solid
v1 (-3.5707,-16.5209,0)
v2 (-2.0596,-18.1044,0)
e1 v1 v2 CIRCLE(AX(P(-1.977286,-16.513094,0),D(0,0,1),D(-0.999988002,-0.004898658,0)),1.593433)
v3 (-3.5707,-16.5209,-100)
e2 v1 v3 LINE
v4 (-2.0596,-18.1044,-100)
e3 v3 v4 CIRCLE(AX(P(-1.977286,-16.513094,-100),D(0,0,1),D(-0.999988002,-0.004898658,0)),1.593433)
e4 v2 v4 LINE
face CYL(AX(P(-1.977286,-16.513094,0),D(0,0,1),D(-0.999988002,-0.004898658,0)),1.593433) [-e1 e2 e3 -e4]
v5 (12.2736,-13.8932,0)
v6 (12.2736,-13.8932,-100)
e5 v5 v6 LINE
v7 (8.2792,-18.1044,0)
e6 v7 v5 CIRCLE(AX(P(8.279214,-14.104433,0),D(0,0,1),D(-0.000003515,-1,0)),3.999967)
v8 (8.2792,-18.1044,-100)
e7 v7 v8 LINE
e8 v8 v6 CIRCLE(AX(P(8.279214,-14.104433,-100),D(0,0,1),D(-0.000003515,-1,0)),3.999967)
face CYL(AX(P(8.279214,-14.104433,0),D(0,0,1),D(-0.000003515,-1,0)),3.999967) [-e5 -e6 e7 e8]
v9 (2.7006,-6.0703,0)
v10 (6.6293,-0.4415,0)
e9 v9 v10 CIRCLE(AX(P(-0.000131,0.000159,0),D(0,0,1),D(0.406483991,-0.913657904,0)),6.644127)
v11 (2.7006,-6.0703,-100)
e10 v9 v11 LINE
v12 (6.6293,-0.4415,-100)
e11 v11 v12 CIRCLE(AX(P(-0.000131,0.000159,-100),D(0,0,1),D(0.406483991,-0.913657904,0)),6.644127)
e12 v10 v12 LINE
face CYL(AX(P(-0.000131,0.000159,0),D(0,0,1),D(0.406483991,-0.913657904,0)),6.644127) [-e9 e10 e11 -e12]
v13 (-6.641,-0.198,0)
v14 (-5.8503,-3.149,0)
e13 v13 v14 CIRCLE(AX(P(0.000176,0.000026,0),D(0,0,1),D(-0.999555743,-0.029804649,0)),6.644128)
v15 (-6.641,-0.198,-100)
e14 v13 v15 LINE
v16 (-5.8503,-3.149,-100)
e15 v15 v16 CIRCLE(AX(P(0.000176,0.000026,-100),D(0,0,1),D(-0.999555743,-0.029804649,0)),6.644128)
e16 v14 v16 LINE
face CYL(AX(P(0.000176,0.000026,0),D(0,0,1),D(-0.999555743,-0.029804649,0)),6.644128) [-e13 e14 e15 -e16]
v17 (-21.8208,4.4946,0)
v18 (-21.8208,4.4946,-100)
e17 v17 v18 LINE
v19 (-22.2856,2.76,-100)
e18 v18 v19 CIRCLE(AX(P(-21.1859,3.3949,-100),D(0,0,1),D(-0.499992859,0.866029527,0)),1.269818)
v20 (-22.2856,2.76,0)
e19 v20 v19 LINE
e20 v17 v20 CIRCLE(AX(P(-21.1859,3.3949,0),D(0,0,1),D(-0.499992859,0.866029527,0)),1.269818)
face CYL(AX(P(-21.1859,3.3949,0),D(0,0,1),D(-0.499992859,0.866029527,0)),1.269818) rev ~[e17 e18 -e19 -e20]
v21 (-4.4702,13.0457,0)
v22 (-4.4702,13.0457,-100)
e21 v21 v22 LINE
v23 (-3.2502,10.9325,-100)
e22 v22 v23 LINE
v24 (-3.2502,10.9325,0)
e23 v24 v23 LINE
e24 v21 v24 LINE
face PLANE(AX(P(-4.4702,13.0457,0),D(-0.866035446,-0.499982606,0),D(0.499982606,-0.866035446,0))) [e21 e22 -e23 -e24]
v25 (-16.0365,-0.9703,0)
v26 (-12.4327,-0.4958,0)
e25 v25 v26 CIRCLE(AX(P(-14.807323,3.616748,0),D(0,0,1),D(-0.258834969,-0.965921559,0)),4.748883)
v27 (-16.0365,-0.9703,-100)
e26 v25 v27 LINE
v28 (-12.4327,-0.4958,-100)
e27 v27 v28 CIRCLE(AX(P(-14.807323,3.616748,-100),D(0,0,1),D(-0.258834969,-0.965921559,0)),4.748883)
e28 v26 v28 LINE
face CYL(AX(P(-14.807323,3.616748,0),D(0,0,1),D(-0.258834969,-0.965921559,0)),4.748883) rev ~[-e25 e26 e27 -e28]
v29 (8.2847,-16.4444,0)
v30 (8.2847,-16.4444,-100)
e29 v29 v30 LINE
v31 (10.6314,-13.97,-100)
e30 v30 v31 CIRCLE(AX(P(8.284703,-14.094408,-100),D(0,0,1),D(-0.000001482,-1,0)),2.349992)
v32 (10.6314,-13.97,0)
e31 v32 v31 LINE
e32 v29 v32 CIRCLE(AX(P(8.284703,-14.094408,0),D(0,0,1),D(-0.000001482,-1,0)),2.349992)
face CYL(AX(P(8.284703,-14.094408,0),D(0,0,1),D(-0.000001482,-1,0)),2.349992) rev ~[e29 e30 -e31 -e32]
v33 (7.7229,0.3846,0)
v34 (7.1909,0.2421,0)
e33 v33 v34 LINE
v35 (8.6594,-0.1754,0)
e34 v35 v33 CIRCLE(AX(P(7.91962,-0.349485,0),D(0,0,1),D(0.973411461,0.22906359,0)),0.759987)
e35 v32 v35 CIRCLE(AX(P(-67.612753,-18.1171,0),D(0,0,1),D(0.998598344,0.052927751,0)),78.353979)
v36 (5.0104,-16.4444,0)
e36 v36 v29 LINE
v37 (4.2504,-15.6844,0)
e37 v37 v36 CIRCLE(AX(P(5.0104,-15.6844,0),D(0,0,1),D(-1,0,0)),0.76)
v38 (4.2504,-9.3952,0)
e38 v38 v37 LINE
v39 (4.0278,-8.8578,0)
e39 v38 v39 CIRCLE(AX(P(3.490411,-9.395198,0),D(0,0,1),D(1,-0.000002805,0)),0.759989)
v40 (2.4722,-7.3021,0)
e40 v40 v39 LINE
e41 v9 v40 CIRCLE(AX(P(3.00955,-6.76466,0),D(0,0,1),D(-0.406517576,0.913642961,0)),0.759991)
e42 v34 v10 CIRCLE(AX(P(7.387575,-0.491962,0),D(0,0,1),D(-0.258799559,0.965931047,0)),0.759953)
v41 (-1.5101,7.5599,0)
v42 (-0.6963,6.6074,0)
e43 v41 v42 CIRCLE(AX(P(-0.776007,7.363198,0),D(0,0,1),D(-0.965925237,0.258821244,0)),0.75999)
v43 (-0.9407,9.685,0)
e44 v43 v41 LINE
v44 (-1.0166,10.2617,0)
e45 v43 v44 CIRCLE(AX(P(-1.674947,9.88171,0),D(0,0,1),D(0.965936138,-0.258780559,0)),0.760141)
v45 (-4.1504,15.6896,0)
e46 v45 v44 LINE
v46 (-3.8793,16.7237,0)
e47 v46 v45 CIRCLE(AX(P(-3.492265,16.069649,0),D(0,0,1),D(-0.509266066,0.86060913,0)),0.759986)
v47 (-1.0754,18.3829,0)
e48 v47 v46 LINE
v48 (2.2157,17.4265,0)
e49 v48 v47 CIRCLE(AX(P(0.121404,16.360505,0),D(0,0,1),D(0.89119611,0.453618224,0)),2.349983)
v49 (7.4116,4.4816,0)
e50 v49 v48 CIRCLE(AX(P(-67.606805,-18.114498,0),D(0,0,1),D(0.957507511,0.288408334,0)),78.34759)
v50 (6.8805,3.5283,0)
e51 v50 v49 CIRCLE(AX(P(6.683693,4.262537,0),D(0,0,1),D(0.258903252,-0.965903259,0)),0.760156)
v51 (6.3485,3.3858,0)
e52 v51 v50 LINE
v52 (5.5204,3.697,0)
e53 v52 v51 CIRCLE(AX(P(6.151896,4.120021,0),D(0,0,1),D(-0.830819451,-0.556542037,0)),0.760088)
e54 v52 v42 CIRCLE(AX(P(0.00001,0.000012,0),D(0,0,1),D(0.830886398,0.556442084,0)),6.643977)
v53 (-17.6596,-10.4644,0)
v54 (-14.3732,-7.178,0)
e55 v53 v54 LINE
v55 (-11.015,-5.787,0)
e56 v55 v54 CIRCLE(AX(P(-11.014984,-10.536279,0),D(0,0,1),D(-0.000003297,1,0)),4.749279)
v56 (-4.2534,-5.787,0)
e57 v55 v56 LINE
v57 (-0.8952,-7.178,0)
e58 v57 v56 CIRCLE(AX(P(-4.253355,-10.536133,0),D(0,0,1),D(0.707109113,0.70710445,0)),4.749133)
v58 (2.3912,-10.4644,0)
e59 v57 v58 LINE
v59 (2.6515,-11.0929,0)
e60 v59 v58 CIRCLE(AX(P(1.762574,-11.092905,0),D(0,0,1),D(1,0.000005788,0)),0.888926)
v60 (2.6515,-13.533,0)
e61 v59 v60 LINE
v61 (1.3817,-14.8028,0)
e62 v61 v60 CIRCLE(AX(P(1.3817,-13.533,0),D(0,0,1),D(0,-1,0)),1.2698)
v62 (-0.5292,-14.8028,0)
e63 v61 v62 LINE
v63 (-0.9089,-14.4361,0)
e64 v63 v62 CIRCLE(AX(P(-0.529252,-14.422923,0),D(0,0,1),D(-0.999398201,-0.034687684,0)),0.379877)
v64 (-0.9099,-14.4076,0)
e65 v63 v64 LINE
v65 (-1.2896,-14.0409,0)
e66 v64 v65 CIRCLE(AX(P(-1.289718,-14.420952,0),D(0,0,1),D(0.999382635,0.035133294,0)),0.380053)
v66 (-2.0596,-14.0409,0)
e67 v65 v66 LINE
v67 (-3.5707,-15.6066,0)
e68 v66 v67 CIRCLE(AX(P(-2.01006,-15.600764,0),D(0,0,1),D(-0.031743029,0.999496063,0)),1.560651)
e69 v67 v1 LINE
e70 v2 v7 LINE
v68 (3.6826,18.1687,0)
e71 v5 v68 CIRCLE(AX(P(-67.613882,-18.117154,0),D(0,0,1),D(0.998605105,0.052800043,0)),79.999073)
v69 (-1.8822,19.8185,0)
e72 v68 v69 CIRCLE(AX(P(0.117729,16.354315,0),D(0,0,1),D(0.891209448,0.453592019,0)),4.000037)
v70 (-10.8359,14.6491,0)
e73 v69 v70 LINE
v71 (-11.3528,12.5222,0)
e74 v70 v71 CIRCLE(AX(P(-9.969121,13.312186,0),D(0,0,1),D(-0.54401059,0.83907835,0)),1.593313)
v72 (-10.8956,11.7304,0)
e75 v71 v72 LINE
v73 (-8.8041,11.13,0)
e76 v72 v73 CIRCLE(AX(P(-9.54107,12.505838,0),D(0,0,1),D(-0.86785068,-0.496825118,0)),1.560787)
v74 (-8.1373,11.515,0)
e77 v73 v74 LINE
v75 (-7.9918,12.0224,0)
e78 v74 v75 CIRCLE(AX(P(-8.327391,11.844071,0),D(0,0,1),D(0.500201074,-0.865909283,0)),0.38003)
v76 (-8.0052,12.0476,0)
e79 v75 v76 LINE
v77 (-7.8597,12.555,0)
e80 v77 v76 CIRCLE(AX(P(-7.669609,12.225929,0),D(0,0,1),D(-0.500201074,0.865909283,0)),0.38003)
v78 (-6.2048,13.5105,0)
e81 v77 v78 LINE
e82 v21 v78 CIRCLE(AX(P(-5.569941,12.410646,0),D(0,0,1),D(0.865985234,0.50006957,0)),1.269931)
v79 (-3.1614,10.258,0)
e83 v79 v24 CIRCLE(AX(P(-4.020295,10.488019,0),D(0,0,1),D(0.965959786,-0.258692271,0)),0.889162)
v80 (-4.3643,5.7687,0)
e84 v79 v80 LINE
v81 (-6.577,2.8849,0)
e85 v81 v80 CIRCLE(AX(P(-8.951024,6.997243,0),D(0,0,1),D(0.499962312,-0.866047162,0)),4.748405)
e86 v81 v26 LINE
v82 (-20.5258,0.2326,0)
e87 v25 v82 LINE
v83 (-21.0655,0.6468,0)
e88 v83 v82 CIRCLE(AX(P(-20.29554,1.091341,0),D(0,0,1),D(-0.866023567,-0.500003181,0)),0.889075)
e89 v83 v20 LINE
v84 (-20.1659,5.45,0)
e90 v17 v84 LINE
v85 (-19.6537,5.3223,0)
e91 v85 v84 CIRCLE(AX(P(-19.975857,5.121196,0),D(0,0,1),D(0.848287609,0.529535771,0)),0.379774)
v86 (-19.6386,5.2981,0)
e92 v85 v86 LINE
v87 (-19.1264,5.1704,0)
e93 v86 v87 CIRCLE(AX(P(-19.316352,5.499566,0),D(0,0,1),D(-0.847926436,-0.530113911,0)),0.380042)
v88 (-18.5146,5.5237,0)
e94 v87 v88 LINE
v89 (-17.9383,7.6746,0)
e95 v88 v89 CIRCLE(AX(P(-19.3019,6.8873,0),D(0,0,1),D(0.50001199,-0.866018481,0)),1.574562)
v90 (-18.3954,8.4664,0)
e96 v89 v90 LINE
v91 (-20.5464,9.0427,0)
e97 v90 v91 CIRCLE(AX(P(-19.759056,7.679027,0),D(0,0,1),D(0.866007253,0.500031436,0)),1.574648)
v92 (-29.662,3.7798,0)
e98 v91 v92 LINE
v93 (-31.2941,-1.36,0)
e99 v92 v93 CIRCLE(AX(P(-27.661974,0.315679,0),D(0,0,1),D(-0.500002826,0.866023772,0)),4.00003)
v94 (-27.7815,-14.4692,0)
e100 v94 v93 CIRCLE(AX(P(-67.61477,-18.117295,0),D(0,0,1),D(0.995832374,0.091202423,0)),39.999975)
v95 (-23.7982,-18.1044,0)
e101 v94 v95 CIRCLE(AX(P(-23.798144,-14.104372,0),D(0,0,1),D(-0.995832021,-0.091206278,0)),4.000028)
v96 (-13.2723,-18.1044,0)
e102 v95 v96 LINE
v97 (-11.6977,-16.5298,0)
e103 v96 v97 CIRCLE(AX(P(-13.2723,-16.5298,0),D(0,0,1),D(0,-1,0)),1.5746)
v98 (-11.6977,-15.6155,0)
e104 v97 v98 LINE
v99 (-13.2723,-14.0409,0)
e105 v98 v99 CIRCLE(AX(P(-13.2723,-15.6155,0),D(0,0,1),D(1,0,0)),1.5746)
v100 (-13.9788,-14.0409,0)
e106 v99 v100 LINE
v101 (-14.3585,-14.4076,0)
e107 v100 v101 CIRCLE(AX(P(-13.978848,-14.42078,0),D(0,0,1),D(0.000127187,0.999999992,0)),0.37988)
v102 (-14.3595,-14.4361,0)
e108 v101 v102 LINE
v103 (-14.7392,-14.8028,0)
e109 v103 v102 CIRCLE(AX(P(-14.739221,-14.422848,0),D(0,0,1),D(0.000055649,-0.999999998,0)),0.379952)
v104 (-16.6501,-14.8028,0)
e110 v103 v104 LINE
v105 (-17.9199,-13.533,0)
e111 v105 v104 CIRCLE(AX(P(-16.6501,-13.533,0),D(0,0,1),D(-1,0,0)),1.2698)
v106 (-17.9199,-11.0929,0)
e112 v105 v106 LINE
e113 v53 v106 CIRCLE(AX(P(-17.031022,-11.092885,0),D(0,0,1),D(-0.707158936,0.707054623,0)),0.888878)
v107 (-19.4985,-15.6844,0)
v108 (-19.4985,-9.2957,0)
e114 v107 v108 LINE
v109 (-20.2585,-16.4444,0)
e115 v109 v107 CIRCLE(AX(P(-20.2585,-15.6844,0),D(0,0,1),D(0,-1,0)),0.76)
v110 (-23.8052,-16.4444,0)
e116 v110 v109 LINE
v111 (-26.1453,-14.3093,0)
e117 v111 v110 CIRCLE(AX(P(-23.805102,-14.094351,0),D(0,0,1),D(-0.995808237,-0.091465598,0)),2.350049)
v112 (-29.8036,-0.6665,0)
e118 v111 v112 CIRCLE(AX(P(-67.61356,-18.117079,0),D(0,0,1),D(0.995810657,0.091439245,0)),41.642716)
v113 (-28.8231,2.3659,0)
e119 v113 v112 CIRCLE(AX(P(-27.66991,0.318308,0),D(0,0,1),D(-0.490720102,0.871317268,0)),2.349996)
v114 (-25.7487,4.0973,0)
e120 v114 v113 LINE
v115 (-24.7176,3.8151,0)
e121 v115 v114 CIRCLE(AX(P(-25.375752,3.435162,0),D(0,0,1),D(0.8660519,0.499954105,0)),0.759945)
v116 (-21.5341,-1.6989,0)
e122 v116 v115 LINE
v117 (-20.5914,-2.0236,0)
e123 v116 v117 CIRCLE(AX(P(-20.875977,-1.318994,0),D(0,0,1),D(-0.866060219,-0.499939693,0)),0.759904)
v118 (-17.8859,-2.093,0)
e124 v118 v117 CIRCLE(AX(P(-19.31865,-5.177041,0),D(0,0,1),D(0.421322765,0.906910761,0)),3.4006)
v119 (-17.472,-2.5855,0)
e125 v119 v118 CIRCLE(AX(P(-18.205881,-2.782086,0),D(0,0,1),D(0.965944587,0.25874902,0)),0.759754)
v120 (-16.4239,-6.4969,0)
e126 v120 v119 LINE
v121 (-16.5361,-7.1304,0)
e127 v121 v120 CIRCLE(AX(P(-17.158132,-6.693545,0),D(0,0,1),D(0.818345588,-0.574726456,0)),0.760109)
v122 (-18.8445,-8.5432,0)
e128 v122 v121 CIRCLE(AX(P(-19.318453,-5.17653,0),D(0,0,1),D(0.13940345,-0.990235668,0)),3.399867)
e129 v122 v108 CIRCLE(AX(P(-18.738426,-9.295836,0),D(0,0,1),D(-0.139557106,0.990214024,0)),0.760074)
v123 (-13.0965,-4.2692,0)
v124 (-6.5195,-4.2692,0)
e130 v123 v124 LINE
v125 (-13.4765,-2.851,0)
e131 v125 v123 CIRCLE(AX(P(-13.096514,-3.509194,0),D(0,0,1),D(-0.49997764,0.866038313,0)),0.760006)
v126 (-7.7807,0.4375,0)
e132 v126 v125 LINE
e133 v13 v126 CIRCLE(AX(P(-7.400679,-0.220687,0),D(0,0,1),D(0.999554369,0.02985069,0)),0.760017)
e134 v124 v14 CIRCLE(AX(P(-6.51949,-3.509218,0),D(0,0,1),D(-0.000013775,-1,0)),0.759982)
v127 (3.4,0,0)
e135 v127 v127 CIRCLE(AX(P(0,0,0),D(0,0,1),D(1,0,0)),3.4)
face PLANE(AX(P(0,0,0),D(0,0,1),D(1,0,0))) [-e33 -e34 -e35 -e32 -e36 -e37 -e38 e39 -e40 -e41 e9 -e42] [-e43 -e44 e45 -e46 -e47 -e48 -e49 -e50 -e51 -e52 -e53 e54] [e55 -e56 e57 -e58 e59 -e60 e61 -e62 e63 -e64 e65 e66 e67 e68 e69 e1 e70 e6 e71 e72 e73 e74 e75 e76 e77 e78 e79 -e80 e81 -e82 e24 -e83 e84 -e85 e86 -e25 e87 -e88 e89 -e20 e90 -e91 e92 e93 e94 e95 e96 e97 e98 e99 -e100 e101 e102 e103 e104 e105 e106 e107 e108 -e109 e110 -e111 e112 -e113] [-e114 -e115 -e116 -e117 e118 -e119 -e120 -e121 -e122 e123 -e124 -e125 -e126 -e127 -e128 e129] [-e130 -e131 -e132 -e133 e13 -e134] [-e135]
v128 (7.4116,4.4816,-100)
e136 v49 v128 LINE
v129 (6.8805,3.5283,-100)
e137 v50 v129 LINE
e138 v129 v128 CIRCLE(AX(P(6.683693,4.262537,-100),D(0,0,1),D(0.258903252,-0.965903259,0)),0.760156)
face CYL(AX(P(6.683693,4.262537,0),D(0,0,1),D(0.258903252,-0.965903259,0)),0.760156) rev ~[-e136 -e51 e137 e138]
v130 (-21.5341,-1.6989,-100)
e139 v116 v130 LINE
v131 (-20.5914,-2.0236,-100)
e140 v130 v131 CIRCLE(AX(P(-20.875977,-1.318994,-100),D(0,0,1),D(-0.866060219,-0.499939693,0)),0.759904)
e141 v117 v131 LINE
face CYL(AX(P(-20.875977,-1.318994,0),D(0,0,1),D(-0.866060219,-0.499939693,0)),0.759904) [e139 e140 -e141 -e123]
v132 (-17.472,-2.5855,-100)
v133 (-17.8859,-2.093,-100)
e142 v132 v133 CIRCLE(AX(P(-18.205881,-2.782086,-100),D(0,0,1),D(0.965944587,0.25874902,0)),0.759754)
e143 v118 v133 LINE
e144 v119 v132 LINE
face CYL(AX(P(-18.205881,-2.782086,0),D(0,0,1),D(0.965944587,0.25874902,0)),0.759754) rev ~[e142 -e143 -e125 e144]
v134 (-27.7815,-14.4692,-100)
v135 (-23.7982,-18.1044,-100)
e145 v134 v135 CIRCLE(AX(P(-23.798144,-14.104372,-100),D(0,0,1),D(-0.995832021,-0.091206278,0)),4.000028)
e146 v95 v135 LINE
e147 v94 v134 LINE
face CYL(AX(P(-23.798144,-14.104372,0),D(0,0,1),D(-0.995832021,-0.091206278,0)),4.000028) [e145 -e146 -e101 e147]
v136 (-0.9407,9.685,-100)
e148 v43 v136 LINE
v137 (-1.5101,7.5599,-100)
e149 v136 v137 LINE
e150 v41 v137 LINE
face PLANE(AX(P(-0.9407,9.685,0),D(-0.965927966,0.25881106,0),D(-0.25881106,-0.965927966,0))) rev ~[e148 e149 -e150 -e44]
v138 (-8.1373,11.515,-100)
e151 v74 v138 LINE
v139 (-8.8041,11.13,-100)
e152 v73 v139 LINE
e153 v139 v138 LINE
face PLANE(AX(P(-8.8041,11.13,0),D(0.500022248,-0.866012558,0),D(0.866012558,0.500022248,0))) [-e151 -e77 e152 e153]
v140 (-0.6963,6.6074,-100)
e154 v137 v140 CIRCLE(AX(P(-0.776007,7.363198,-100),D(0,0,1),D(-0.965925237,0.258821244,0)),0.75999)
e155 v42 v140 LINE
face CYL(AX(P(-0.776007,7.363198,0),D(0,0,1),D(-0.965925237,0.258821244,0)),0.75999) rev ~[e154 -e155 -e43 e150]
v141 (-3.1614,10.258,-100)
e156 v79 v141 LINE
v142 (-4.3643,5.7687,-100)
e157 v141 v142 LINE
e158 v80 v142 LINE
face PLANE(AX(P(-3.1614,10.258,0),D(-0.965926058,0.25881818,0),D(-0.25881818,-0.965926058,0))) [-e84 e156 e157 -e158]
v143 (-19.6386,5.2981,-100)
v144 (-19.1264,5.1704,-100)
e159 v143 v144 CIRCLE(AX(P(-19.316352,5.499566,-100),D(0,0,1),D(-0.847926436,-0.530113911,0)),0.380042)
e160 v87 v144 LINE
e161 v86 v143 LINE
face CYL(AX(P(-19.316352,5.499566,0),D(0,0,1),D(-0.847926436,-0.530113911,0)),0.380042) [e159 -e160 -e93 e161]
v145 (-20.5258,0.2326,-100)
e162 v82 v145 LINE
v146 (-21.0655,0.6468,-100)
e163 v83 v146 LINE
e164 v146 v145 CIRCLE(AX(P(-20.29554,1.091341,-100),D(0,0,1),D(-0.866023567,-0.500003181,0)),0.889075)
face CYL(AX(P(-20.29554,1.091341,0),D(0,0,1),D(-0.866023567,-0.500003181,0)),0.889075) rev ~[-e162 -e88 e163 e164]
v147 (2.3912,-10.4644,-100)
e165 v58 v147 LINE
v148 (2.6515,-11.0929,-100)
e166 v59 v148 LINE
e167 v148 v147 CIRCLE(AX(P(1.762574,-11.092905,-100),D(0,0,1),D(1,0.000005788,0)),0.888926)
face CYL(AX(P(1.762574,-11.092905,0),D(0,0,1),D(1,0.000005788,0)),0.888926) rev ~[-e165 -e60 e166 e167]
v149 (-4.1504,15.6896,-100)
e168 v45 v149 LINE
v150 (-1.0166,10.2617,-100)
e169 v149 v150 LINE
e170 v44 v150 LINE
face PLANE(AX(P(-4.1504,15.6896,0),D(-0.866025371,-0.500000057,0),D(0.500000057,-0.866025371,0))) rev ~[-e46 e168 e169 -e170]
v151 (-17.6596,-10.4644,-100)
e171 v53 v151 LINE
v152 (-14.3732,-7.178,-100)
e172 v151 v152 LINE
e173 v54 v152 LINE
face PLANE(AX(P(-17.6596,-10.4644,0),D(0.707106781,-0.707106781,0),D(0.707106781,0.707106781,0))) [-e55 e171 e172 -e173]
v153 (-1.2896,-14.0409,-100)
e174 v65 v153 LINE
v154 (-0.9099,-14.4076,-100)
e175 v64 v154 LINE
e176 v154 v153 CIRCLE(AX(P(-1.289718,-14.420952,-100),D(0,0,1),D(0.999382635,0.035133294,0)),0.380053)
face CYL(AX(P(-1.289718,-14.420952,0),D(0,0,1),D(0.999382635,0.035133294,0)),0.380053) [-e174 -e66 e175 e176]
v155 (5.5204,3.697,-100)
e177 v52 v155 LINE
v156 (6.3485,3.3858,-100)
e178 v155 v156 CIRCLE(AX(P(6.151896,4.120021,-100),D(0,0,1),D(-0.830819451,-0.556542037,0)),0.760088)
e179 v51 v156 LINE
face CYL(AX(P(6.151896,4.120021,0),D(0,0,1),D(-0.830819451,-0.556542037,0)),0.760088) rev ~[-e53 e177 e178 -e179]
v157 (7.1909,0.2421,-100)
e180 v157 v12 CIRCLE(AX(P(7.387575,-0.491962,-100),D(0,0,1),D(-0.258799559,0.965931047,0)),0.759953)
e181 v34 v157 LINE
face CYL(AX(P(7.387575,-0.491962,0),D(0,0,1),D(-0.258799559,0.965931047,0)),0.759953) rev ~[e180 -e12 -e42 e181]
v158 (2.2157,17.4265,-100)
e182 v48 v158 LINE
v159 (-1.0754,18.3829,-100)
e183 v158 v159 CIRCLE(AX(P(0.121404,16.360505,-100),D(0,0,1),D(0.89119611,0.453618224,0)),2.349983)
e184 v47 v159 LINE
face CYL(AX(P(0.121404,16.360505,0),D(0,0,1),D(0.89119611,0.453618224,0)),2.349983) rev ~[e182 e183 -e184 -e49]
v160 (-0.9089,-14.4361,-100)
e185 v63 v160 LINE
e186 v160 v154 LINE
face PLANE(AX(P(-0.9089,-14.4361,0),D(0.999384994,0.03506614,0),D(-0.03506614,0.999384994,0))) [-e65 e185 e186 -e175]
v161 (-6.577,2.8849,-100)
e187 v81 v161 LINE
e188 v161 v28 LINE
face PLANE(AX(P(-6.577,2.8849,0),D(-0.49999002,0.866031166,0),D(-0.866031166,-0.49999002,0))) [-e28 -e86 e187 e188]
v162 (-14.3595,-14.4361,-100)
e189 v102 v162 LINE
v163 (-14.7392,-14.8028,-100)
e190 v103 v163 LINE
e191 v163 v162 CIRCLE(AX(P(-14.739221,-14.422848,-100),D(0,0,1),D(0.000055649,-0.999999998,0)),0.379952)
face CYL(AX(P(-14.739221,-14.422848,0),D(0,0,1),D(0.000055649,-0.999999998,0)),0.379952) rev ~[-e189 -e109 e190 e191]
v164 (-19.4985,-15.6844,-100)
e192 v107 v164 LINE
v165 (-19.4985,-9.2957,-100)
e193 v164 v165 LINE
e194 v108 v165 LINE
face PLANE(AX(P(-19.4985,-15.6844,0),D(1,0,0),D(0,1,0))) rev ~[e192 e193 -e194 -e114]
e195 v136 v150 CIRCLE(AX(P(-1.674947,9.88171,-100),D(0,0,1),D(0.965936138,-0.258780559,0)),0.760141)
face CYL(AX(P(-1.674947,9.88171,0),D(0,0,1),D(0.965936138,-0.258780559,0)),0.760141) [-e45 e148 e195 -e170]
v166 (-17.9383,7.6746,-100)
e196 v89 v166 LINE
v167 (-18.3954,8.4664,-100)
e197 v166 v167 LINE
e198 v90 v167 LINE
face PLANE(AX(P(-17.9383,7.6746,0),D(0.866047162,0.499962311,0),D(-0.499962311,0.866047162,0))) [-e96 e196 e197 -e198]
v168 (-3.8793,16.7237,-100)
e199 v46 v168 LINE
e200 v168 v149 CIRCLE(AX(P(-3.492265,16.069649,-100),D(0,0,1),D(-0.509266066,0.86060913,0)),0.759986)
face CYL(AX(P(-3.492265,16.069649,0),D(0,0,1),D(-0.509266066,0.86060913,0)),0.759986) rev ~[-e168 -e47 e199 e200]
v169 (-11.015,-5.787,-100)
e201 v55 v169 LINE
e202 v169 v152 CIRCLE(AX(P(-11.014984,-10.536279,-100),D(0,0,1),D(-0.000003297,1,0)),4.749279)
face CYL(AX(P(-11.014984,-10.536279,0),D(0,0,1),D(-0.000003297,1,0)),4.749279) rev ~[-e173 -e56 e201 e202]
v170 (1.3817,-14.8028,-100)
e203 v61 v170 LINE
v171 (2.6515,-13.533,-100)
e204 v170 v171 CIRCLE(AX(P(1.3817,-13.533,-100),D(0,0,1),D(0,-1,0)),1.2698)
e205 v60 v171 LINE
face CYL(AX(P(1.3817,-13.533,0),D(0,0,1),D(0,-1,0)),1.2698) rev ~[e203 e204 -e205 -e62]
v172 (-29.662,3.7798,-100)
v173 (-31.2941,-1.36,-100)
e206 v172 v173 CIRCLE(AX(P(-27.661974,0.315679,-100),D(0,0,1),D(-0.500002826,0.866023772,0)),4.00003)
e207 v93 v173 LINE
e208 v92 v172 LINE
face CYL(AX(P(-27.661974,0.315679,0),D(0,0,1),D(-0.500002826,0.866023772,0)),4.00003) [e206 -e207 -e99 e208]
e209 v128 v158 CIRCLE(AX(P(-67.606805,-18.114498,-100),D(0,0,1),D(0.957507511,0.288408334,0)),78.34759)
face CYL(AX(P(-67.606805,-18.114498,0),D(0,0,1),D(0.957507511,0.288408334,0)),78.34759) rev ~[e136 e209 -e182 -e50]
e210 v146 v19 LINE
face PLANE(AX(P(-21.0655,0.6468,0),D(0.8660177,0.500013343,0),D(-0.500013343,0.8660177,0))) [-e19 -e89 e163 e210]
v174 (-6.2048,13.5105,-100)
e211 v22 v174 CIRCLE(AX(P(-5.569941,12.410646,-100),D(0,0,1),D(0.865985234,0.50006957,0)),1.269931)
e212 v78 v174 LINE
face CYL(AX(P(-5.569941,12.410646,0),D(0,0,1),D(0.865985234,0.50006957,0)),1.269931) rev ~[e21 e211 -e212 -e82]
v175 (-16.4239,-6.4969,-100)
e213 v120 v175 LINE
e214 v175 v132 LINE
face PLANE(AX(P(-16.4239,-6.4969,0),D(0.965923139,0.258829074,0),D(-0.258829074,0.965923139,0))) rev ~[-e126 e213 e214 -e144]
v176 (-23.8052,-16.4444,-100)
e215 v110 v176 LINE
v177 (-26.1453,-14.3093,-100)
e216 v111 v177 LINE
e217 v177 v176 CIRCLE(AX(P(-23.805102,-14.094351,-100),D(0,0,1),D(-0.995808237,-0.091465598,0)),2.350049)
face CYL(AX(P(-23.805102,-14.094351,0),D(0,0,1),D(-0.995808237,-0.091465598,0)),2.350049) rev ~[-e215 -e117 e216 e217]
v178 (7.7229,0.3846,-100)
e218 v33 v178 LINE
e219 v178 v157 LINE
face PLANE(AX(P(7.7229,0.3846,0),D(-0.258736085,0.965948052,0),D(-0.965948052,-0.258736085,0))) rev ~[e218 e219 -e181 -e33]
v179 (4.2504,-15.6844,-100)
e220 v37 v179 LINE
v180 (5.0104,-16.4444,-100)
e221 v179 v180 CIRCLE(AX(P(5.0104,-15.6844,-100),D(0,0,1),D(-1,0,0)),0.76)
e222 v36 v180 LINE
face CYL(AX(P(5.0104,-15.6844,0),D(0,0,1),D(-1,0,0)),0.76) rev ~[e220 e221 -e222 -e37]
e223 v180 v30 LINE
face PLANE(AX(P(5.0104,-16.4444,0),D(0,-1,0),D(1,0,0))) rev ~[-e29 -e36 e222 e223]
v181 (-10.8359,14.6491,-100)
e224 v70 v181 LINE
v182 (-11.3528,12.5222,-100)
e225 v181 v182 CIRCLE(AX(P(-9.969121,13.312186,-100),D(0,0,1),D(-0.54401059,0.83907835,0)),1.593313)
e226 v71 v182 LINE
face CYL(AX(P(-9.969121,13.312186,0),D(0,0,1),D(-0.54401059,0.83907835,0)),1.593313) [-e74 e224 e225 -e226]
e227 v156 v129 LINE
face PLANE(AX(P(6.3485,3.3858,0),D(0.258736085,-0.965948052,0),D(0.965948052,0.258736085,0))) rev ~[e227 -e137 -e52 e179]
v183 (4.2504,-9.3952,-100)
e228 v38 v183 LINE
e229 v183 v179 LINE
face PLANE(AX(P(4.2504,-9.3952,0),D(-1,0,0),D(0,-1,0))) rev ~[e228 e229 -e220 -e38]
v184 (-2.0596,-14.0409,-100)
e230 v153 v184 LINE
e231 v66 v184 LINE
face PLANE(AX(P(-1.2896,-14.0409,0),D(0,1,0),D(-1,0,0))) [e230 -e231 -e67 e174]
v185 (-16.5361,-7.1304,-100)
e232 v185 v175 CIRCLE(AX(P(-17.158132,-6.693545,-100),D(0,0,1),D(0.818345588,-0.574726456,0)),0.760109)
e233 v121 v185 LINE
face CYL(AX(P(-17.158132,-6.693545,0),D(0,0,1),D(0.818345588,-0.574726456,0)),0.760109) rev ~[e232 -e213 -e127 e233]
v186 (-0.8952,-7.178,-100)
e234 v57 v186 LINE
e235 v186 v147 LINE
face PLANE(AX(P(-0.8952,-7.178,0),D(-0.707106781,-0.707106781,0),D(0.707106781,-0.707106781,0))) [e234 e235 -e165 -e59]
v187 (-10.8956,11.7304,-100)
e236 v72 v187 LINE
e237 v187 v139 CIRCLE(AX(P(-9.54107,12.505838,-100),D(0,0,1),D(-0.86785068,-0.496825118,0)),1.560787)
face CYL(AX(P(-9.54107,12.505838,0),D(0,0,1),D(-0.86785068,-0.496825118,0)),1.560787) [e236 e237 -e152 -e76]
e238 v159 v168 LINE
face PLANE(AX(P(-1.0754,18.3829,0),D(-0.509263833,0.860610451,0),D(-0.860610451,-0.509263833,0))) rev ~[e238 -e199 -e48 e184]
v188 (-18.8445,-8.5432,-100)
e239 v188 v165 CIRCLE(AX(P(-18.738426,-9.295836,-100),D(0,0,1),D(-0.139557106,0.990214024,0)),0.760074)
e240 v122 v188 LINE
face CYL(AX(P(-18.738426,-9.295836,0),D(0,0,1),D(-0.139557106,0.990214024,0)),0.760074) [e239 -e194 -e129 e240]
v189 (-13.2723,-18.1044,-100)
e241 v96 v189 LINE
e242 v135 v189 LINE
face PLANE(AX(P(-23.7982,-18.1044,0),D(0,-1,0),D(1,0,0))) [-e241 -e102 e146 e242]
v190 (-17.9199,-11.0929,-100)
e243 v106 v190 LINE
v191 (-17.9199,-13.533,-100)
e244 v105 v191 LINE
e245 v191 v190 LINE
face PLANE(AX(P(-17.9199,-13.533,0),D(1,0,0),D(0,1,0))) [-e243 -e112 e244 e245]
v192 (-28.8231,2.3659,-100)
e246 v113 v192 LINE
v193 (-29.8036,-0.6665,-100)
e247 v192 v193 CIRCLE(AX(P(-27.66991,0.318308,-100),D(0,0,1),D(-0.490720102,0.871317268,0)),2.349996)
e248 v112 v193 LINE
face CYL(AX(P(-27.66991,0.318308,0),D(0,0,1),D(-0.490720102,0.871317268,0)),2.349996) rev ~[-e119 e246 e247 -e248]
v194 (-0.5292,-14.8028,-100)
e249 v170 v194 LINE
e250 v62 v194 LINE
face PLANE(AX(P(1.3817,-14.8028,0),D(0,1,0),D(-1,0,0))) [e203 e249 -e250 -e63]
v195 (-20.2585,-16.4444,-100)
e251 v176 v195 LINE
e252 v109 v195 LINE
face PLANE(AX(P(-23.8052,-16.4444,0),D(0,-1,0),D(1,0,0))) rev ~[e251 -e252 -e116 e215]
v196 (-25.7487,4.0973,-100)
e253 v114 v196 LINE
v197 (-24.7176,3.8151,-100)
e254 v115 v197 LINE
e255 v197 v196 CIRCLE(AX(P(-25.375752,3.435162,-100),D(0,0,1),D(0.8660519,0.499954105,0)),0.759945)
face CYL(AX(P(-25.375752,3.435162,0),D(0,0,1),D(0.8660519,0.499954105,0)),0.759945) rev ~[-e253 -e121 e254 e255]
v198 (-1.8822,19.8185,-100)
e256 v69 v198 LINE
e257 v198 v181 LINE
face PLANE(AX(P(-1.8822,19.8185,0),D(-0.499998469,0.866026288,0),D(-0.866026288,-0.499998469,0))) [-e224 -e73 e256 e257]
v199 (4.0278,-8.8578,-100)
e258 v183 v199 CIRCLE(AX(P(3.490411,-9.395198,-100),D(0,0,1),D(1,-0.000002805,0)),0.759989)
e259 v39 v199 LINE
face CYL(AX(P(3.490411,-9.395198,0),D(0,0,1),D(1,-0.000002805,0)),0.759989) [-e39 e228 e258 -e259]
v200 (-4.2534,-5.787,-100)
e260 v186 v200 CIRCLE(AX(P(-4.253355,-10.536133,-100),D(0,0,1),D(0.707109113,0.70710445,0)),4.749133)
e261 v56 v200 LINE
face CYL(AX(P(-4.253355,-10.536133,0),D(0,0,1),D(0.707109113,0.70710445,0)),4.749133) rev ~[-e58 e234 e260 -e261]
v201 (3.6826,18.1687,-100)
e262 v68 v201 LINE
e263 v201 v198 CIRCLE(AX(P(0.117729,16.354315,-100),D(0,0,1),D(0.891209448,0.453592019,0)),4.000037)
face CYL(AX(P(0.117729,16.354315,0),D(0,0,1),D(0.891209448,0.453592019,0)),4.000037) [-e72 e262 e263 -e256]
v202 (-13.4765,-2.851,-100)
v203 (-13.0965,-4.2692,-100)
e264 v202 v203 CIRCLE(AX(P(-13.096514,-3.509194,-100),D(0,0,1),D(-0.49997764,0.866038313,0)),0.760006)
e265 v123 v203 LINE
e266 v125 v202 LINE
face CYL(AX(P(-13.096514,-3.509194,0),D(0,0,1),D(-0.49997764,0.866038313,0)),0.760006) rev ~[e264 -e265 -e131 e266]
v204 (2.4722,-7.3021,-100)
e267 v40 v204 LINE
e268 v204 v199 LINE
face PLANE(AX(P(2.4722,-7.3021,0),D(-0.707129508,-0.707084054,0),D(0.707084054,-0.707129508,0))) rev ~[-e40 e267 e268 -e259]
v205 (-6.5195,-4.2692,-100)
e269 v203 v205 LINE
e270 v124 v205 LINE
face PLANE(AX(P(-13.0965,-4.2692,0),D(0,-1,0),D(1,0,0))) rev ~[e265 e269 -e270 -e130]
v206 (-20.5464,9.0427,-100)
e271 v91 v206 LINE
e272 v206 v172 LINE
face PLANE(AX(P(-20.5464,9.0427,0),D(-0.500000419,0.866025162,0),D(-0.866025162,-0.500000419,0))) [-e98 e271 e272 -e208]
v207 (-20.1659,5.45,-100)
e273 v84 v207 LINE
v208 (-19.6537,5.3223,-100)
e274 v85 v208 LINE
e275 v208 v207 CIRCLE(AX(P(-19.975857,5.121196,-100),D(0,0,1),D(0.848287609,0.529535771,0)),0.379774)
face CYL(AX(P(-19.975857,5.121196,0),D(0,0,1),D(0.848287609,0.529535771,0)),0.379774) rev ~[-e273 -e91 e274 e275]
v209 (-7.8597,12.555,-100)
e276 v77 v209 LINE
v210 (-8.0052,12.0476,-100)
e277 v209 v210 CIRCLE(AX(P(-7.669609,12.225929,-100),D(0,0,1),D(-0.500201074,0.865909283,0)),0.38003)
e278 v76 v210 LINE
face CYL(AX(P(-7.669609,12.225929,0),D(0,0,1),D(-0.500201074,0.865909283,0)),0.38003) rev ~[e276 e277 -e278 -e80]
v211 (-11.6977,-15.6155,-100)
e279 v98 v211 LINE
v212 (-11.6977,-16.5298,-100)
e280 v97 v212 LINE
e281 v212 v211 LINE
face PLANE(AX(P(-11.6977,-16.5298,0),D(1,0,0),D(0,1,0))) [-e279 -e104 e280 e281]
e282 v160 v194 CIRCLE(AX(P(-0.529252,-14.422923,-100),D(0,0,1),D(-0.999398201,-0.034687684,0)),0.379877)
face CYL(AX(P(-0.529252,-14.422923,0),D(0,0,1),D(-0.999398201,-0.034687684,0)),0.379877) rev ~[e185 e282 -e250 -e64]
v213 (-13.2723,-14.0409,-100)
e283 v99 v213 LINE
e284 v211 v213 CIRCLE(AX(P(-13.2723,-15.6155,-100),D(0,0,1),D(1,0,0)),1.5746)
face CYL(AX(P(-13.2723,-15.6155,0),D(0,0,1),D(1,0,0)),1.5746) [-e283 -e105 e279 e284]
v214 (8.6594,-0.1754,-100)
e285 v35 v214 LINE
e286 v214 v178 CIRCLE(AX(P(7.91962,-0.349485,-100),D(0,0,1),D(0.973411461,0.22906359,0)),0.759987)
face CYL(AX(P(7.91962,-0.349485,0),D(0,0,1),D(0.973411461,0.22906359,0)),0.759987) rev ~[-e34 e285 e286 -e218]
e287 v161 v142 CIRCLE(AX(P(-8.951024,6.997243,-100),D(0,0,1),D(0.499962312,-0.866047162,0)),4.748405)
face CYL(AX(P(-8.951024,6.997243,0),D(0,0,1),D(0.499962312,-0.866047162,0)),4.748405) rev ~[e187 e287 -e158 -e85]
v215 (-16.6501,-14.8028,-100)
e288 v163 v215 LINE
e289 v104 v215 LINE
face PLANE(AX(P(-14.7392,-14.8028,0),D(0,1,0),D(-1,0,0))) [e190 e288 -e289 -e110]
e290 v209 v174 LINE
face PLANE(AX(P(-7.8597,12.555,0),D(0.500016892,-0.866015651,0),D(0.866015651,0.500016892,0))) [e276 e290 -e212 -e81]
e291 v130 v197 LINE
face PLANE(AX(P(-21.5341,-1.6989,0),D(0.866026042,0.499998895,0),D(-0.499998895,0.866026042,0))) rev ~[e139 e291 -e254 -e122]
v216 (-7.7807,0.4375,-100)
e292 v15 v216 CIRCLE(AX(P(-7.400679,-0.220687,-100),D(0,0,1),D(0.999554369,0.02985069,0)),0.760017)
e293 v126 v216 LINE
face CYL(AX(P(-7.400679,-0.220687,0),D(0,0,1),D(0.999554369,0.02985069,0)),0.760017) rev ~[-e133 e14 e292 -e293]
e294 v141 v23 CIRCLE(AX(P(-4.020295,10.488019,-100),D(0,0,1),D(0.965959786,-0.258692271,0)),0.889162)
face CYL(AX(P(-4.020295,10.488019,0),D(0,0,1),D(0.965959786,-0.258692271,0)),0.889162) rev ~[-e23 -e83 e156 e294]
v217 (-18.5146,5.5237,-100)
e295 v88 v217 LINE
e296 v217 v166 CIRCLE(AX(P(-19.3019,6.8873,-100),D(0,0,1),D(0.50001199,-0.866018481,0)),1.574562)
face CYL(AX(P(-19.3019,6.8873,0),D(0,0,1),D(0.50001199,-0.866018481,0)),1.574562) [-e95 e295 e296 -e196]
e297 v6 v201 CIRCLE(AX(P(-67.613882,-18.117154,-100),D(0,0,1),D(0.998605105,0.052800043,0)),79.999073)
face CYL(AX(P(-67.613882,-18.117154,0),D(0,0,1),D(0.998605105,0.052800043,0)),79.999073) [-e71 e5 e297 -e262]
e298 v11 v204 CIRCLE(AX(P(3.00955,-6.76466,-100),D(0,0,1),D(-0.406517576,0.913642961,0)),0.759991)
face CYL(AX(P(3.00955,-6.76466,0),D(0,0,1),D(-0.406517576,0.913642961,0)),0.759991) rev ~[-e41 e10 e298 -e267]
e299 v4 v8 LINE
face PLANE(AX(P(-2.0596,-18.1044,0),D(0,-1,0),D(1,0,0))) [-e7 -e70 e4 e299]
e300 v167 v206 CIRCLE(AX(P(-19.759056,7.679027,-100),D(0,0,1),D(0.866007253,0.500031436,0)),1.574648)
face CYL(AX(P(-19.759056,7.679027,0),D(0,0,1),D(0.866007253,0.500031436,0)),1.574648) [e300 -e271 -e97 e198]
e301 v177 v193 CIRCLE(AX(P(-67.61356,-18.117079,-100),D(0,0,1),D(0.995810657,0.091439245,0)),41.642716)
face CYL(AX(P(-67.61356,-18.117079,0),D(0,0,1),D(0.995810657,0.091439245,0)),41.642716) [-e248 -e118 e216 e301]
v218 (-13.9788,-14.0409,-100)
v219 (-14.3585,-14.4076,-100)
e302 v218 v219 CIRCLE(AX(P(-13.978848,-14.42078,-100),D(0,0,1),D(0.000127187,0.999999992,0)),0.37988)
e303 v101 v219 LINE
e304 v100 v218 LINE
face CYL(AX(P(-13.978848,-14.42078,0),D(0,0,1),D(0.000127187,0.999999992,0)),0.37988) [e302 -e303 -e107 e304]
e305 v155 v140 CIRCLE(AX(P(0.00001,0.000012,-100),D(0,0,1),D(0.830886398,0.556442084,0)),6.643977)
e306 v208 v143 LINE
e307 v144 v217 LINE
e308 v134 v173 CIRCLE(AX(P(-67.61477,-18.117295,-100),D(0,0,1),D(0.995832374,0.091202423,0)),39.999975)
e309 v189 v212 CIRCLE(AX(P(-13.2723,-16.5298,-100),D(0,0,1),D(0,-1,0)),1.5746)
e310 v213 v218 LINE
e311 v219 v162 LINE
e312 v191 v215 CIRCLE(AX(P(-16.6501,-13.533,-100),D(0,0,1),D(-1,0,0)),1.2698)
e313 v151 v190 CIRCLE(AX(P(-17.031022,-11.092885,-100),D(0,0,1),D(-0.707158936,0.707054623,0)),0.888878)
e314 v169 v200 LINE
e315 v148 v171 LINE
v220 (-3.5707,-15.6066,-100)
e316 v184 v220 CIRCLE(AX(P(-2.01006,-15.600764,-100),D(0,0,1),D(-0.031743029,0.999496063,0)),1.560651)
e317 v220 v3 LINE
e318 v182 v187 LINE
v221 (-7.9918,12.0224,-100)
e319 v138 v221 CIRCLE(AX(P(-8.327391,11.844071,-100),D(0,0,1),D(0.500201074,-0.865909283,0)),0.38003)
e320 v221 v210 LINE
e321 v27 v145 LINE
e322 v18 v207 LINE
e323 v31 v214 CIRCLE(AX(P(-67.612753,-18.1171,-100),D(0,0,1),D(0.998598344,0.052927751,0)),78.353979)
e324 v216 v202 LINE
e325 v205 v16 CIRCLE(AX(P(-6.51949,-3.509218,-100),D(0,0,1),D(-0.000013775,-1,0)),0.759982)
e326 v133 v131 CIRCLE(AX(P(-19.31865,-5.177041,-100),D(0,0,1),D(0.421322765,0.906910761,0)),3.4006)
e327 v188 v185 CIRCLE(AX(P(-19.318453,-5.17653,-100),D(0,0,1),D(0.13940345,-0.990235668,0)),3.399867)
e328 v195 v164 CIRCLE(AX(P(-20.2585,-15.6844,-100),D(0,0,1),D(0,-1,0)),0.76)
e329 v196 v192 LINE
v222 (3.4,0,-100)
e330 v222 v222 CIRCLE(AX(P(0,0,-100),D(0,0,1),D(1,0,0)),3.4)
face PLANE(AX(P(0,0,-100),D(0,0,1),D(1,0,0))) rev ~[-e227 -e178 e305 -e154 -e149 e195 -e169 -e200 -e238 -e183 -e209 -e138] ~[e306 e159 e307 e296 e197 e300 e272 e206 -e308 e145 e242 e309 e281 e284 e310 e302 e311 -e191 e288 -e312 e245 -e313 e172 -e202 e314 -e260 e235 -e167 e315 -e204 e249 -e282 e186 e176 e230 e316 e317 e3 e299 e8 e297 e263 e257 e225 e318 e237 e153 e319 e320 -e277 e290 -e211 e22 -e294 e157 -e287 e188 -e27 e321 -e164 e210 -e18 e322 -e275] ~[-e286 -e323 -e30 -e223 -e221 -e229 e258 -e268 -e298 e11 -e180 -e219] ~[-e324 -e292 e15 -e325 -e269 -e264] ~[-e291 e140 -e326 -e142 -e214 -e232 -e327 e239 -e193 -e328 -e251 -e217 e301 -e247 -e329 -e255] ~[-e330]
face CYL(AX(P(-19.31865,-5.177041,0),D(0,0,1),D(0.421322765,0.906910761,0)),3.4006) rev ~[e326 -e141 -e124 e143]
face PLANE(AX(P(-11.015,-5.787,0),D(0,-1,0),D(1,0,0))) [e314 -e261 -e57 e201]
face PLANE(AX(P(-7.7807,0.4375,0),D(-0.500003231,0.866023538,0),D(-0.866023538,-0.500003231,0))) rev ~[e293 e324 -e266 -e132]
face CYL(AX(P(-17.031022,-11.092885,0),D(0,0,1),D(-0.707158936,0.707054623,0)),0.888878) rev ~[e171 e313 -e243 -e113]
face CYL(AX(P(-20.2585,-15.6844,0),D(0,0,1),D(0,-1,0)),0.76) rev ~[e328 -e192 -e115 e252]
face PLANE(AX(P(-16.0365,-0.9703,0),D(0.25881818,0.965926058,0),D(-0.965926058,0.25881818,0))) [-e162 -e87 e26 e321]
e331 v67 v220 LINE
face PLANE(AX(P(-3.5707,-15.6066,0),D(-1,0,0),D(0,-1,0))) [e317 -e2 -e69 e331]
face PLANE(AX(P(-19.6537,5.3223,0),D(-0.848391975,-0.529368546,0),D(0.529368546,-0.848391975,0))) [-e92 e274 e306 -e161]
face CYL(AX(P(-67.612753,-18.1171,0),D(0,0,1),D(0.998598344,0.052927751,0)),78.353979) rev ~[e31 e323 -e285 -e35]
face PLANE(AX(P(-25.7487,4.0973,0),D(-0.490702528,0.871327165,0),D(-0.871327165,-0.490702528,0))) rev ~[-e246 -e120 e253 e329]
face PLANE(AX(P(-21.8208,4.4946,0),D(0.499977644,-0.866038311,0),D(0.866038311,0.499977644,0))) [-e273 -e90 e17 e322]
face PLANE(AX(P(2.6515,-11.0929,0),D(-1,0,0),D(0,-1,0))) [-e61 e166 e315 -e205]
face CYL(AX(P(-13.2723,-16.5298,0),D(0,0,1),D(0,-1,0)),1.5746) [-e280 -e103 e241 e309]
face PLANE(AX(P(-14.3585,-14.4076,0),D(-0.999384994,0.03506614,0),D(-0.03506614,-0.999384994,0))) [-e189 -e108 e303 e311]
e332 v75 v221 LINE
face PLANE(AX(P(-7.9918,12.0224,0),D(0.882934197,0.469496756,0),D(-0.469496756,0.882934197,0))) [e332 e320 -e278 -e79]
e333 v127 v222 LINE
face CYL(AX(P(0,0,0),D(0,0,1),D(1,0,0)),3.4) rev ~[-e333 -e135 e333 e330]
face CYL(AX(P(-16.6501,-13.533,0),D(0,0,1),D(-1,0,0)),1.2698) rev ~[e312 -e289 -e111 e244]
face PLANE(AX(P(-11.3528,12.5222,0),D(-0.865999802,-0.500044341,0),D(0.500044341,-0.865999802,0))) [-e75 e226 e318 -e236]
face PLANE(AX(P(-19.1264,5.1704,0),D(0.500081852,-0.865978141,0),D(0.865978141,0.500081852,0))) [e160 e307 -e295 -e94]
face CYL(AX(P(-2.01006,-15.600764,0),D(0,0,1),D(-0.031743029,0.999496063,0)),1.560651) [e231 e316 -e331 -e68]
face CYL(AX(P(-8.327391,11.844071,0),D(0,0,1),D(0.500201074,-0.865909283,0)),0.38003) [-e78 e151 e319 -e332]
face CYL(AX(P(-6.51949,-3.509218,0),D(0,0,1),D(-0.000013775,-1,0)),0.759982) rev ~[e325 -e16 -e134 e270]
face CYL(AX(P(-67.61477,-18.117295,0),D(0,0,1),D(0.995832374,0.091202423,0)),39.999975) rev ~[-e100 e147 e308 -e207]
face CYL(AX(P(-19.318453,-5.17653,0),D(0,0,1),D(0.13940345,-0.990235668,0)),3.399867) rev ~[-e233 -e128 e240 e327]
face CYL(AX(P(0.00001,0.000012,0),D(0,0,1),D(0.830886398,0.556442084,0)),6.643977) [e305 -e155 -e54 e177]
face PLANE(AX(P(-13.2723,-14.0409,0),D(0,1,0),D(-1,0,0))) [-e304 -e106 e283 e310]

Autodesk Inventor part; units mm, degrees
ref_plane "YZ Plane" through (0, 0, 0) normal (1, 0, 0) x (0, 1, 0)
ref_plane "XZ Plane" through (0, 0, 0) normal (0, 1, 0) x (-1, 0, 0)
ref_plane "XY Plane" through (0, 0, 0) normal (0, 0, 1) x (1, 0, 0)
sketch "Sketch1" plane through (0, 0, 0) normal (0, 0, 1) x (1, 0, 0)
  circle A0 centre (0, 0) radius 3.4
  arc A1 (-6.641, -0.198) -> (-5.8503, -3.149) centre (0, 0) ccw
  arc A2 (-6.5195, -4.2692) -> (-5.8503, -3.149) centre (-6.5195, -3.5092) ccw
  line L0 (-13.0965, -4.2692) -> (-6.5195, -4.2692)
  arc A3 (-13.4765, -2.851) -> (-13.0965, -4.2692) centre (-13.0965, -3.5092) ccw
  line L1 (-7.7807, 0.4375) -> (-13.4765, -2.851)
  arc A4 (-6.641, -0.198) -> (-7.7807, 0.4375) centre (-7.4007, -0.2207) ccw
  arc A5 (-1.5101, 7.5599) -> (-0.6963, 6.6074) centre (-0.776, 7.3632) ccw
  line L2 (-0.9407, 9.685) -> (-1.5101, 7.5599)
  arc A6 (-0.9407, 9.685) -> (-1.0166, 10.2617) centre (-1.6748, 9.8817) ccw
  line L3 (-4.1504, 15.6896) -> (-1.0166, 10.2617)
  arc A7 (-3.8793, 16.7237) -> (-4.1504, 15.6896) centre (-3.4922, 16.0696) ccw
  line L4 (-1.0754, 18.3829) -> (-3.8793, 16.7237)
  arc A8 (2.2157, 17.4265) -> (-1.0754, 18.3829) centre (0.1214, 16.3605) ccw
  arc A9 (7.4116, 4.4816) -> (2.2157, 17.4265) centre (-67.6148, -18.1173) ccw
  arc A10 (6.8805, 3.5283) -> (7.4116, 4.4816) centre (6.6838, 4.2624) ccw
  line L5 (6.3485, 3.3858) -> (6.8805, 3.5283)
  arc A11 (5.5204, 3.697) -> (6.3485, 3.3858) centre (6.1518, 4.1199) ccw
  arc A12 (5.5204, 3.697) -> (-0.6963, 6.6074) centre (0, 0) ccw
  arc A13 (2.7006, -6.0703) -> (6.6293, -0.4415) centre (0, 0) ccw
  arc A14 (7.1909, 0.2421) -> (6.6293, -0.4415) centre (7.3876, -0.492) ccw
  line L6 (7.7229, 0.3846) -> (7.1909, 0.2421)
  arc A15 (8.6594, -0.1754) -> (7.7229, 0.3846) centre (7.9196, -0.3495) ccw
  arc A16 (10.6314, -13.97) -> (8.6594, -0.1754) centre (-67.6148, -18.1173) ccw
  line L7 (4.2504, -9.3952) -> (4.2504, -15.6844)
  arc A17 (4.2504, -9.3952) -> (4.0278, -8.8578) centre (3.4904, -9.3952) ccw
  line L8 (2.4722, -7.3021) -> (4.0278, -8.8578)
  arc A18 (2.7006, -6.0703) -> (2.4722, -7.3021) centre (3.0096, -6.7647) ccw
  arc A19 (-17.472, -2.5855) -> (-17.8859, -2.093) centre (-18.2061, -2.7822) ccw
  line L9 (-16.4239, -6.4969) -> (-17.472, -2.5855)
  arc A20 (-16.5361, -7.1304) -> (-16.4239, -6.4969) centre (-17.158, -6.6936) ccw
  arc A21 (-18.8445, -8.5432) -> (-16.5361, -7.1304) centre (-19.3185, -5.1764) ccw
  arc A22 (-18.8445, -8.5432) -> (-19.4985, -9.2957) centre (-18.7385, -9.2957) ccw
  line L10 (-19.4985, -15.6844) -> (-19.4985, -9.2957)
  arc A23 (-26.1453, -14.3093) -> (-29.8036, -0.6665) centre (-67.6148, -18.1173) ccw
  arc A24 (-28.8231, 2.3659) -> (-29.8036, -0.6665) centre (-27.6699, 0.3183) ccw
  line L11 (-25.7487, 4.0973) -> (-28.8231, 2.3659)
  arc A25 (-24.7176, 3.8151) -> (-25.7487, 4.0973) centre (-25.3758, 3.4351) ccw
  line L12 (-21.5341, -1.6989) -> (-24.7176, 3.8151)
  arc A26 (-21.5341, -1.6989) -> (-20.5914, -2.0236) centre (-20.8759, -1.3189) ccw
  arc A27 (-17.8859, -2.093) -> (-20.5914, -2.0236) centre (-19.3185, -5.1764) ccw
  arc A28 (-3.5707, -16.5209) -> (-2.0596, -18.1044) centre (-1.9773, -16.5131) ccw
  line L13 (-2.0596, -18.1044) -> (8.2792, -18.1044)
  arc A29 (8.2792, -18.1044) -> (12.2736, -13.8932) centre (8.2792, -14.1044) ccw
  arc A30 (12.2736, -13.8932) -> (3.6826, 18.1687) centre (-67.6148, -18.1173) ccw
  arc A31 (3.6826, 18.1687) -> (-1.8822, 19.8185) centre (0.1178, 16.3544) ccw
  line L14 (-1.8822, 19.8185) -> (-10.8359, 14.6491)
  arc A32 (-10.8359, 14.6491) -> (-11.3528, 12.5222) centre (-9.969, 13.3121) ccw
  line L15 (-11.3528, 12.5222) -> (-10.8956, 11.7304)
  arc A33 (-10.8956, 11.7304) -> (-8.8041, 11.13) centre (-9.5411, 12.5058) ccw
  line L16 (-8.8041, 11.13) -> (-8.1373, 11.515)
  arc A34 (-8.1373, 11.515) -> (-7.9918, 12.0224) centre (-8.3273, 11.844) ccw
  line L17 (-7.9918, 12.0224) -> (-8.0052, 12.0476)
  arc A35 (-7.8597, 12.555) -> (-8.0052, 12.0476) centre (-7.6697, 12.226) ccw
  line L18 (-7.8597, 12.555) -> (-6.2048, 13.5105)
  arc A36 (-4.4702, 13.0457) -> (-6.2048, 13.5105) centre (-5.5699, 12.4107) ccw
  line L19 (-4.4702, 13.0457) -> (-3.2502, 10.9325)
  arc A37 (-3.1614, 10.258) -> (-3.2502, 10.9325) centre (-4.02, 10.488) ccw
  line L20 (-3.1614, 10.258) -> (-4.3643, 5.7687)
  arc A38 (-6.577, 2.8849) -> (-4.3643, 5.7687) centre (-8.9516, 6.9979) ccw
  line L21 (-6.577, 2.8849) -> (-12.4327, -0.4958)
  arc A39 (-16.0365, -0.9703) -> (-12.4327, -0.4958) centre (-14.8073, 3.6171) ccw
  line L22 (-16.0365, -0.9703) -> (-20.5258, 0.2326)
  arc A40 (-21.0655, 0.6468) -> (-20.5258, 0.2326) centre (-20.2957, 1.0912) ccw
  line L23 (-21.0655, 0.6468) -> (-22.2856, 2.76)
  arc A41 (-21.8208, 4.4946) -> (-22.2856, 2.76) centre (-21.1859, 3.3949) ccw
  line L24 (-21.8208, 4.4946) -> (-20.1659, 5.45)
  arc A42 (-19.6537, 5.3223) -> (-20.1659, 5.45) centre (-19.976, 5.121) ccw
  line L25 (-19.6537, 5.3223) -> (-19.6386, 5.2981)
  arc A43 (-19.6386, 5.2981) -> (-19.1264, 5.1704) centre (-19.3164, 5.4995) ccw
  line L26 (-19.1264, 5.1704) -> (-18.5146, 5.5237)
  arc A44 (-18.5146, 5.5237) -> (-17.9383, 7.6746) centre (-19.3019, 6.8873) ccw
  line L27 (-17.9383, 7.6746) -> (-18.3954, 8.4664)
  arc A45 (-18.3954, 8.4664) -> (-20.5464, 9.0427) centre (-19.759, 7.6791) ccw
  line L28 (-20.5464, 9.0427) -> (-29.662, 3.7798)
  arc A46 (-29.662, 3.7798) -> (-31.2941, -1.36) centre (-27.662, 0.3157) ccw
  arc A47 (-27.7815, -14.4692) -> (-31.2941, -1.36) centre (-67.6148, -18.1173) ccw
  arc A48 (-27.7815, -14.4692) -> (-23.7982, -18.1044) centre (-23.7982, -14.1044) ccw
  line L29 (-23.7982, -18.1044) -> (-13.2723, -18.1044)
  arc A49 (-13.2723, -18.1044) -> (-11.6977, -16.5298) centre (-13.2723, -16.5298) ccw
  line L30 (-11.6977, -16.5298) -> (-11.6977, -15.6155)
  arc A50 (-11.6977, -15.6155) -> (-13.2723, -14.0409) centre (-13.2723, -15.6155) ccw
  line L31 (-13.2723, -14.0409) -> (-13.9788, -14.0409)
  arc A51 (-13.9788, -14.0409) -> (-14.3585, -14.4076) centre (-13.9788, -14.4209) ccw
  line L32 (-14.3585, -14.4076) -> (-14.3595, -14.4361)
  arc A52 (-14.7392, -14.8028) -> (-14.3595, -14.4361) centre (-14.7392, -14.4229) ccw
  line L33 (-14.7392, -14.8028) -> (-16.6501, -14.8028)
  arc A53 (-17.9199, -13.533) -> (-16.6501, -14.8028) centre (-16.6501, -13.533) ccw
  line L34 (-17.9199, -13.533) -> (-17.9199, -11.0929)
  arc A54 (-17.6596, -10.4644) -> (-17.9199, -11.0929) centre (-17.031, -11.0929) ccw
  line L35 (-17.6596, -10.4644) -> (-14.3732, -7.178)
  arc A55 (-11.015, -5.787) -> (-14.3732, -7.178) centre (-11.015, -10.5362) ccw
  line L36 (-11.015, -5.787) -> (-4.2534, -5.787)
  arc A56 (-0.8952, -7.178) -> (-4.2534, -5.787) centre (-4.2534, -10.5362) ccw
  line L37 (-0.8952, -7.178) -> (2.3912, -10.4644)
  arc A57 (2.6515, -11.0929) -> (2.3912, -10.4644) centre (1.7626, -11.0929) ccw
  line L38 (2.6515, -11.0929) -> (2.6515, -13.533)
  arc A58 (1.3817, -14.8028) -> (2.6515, -13.533) centre (1.3817, -13.533) ccw
  line L39 (1.3817, -14.8028) -> (-0.5292, -14.8028)
  arc A59 (-0.9089, -14.4361) -> (-0.5292, -14.8028) centre (-0.5292, -14.4229) ccw
  line L40 (-0.9089, -14.4361) -> (-0.9099, -14.4076)
  arc A60 (-0.9099, -14.4076) -> (-1.2896, -14.0409) centre (-1.2896, -14.4209) ccw
  line L41 (-1.2896, -14.0409) -> (-2.0596, -14.0409)
  arc A61 (-2.0596, -14.0409) -> (-3.5707, -15.6066) centre (-2.01, -15.6009) ccw
  line L42 (-3.5707, -15.6066) -> (-3.5707, -16.5209)
  line L43 (5.0104, -16.4444) -> (8.2847, -16.4444)
  line L44 (-23.8052, -16.4444) -> (-20.2585, -16.4444)
  arc A62 (-26.1453, -14.3093) -> (-23.8052, -16.4444) centre (-23.8052, -14.0944) ccw
  arc A63 (8.2847, -16.4444) -> (10.6314, -13.97) centre (8.2847, -14.0944) ccw
  arc A64 (-20.2585, -16.4444) -> (-19.4985, -15.6844) centre (-20.2585, -15.6844) ccw
  arc A65 (4.2504, -15.6844) -> (5.0104, -16.4444) centre (5.0104, -15.6844) ccw
  point P0 (0, 0)
extrude "Extrusion1" add sketch "Sketch1" against normal blind 100
properties part number "40-4093-BLACK-FB"
